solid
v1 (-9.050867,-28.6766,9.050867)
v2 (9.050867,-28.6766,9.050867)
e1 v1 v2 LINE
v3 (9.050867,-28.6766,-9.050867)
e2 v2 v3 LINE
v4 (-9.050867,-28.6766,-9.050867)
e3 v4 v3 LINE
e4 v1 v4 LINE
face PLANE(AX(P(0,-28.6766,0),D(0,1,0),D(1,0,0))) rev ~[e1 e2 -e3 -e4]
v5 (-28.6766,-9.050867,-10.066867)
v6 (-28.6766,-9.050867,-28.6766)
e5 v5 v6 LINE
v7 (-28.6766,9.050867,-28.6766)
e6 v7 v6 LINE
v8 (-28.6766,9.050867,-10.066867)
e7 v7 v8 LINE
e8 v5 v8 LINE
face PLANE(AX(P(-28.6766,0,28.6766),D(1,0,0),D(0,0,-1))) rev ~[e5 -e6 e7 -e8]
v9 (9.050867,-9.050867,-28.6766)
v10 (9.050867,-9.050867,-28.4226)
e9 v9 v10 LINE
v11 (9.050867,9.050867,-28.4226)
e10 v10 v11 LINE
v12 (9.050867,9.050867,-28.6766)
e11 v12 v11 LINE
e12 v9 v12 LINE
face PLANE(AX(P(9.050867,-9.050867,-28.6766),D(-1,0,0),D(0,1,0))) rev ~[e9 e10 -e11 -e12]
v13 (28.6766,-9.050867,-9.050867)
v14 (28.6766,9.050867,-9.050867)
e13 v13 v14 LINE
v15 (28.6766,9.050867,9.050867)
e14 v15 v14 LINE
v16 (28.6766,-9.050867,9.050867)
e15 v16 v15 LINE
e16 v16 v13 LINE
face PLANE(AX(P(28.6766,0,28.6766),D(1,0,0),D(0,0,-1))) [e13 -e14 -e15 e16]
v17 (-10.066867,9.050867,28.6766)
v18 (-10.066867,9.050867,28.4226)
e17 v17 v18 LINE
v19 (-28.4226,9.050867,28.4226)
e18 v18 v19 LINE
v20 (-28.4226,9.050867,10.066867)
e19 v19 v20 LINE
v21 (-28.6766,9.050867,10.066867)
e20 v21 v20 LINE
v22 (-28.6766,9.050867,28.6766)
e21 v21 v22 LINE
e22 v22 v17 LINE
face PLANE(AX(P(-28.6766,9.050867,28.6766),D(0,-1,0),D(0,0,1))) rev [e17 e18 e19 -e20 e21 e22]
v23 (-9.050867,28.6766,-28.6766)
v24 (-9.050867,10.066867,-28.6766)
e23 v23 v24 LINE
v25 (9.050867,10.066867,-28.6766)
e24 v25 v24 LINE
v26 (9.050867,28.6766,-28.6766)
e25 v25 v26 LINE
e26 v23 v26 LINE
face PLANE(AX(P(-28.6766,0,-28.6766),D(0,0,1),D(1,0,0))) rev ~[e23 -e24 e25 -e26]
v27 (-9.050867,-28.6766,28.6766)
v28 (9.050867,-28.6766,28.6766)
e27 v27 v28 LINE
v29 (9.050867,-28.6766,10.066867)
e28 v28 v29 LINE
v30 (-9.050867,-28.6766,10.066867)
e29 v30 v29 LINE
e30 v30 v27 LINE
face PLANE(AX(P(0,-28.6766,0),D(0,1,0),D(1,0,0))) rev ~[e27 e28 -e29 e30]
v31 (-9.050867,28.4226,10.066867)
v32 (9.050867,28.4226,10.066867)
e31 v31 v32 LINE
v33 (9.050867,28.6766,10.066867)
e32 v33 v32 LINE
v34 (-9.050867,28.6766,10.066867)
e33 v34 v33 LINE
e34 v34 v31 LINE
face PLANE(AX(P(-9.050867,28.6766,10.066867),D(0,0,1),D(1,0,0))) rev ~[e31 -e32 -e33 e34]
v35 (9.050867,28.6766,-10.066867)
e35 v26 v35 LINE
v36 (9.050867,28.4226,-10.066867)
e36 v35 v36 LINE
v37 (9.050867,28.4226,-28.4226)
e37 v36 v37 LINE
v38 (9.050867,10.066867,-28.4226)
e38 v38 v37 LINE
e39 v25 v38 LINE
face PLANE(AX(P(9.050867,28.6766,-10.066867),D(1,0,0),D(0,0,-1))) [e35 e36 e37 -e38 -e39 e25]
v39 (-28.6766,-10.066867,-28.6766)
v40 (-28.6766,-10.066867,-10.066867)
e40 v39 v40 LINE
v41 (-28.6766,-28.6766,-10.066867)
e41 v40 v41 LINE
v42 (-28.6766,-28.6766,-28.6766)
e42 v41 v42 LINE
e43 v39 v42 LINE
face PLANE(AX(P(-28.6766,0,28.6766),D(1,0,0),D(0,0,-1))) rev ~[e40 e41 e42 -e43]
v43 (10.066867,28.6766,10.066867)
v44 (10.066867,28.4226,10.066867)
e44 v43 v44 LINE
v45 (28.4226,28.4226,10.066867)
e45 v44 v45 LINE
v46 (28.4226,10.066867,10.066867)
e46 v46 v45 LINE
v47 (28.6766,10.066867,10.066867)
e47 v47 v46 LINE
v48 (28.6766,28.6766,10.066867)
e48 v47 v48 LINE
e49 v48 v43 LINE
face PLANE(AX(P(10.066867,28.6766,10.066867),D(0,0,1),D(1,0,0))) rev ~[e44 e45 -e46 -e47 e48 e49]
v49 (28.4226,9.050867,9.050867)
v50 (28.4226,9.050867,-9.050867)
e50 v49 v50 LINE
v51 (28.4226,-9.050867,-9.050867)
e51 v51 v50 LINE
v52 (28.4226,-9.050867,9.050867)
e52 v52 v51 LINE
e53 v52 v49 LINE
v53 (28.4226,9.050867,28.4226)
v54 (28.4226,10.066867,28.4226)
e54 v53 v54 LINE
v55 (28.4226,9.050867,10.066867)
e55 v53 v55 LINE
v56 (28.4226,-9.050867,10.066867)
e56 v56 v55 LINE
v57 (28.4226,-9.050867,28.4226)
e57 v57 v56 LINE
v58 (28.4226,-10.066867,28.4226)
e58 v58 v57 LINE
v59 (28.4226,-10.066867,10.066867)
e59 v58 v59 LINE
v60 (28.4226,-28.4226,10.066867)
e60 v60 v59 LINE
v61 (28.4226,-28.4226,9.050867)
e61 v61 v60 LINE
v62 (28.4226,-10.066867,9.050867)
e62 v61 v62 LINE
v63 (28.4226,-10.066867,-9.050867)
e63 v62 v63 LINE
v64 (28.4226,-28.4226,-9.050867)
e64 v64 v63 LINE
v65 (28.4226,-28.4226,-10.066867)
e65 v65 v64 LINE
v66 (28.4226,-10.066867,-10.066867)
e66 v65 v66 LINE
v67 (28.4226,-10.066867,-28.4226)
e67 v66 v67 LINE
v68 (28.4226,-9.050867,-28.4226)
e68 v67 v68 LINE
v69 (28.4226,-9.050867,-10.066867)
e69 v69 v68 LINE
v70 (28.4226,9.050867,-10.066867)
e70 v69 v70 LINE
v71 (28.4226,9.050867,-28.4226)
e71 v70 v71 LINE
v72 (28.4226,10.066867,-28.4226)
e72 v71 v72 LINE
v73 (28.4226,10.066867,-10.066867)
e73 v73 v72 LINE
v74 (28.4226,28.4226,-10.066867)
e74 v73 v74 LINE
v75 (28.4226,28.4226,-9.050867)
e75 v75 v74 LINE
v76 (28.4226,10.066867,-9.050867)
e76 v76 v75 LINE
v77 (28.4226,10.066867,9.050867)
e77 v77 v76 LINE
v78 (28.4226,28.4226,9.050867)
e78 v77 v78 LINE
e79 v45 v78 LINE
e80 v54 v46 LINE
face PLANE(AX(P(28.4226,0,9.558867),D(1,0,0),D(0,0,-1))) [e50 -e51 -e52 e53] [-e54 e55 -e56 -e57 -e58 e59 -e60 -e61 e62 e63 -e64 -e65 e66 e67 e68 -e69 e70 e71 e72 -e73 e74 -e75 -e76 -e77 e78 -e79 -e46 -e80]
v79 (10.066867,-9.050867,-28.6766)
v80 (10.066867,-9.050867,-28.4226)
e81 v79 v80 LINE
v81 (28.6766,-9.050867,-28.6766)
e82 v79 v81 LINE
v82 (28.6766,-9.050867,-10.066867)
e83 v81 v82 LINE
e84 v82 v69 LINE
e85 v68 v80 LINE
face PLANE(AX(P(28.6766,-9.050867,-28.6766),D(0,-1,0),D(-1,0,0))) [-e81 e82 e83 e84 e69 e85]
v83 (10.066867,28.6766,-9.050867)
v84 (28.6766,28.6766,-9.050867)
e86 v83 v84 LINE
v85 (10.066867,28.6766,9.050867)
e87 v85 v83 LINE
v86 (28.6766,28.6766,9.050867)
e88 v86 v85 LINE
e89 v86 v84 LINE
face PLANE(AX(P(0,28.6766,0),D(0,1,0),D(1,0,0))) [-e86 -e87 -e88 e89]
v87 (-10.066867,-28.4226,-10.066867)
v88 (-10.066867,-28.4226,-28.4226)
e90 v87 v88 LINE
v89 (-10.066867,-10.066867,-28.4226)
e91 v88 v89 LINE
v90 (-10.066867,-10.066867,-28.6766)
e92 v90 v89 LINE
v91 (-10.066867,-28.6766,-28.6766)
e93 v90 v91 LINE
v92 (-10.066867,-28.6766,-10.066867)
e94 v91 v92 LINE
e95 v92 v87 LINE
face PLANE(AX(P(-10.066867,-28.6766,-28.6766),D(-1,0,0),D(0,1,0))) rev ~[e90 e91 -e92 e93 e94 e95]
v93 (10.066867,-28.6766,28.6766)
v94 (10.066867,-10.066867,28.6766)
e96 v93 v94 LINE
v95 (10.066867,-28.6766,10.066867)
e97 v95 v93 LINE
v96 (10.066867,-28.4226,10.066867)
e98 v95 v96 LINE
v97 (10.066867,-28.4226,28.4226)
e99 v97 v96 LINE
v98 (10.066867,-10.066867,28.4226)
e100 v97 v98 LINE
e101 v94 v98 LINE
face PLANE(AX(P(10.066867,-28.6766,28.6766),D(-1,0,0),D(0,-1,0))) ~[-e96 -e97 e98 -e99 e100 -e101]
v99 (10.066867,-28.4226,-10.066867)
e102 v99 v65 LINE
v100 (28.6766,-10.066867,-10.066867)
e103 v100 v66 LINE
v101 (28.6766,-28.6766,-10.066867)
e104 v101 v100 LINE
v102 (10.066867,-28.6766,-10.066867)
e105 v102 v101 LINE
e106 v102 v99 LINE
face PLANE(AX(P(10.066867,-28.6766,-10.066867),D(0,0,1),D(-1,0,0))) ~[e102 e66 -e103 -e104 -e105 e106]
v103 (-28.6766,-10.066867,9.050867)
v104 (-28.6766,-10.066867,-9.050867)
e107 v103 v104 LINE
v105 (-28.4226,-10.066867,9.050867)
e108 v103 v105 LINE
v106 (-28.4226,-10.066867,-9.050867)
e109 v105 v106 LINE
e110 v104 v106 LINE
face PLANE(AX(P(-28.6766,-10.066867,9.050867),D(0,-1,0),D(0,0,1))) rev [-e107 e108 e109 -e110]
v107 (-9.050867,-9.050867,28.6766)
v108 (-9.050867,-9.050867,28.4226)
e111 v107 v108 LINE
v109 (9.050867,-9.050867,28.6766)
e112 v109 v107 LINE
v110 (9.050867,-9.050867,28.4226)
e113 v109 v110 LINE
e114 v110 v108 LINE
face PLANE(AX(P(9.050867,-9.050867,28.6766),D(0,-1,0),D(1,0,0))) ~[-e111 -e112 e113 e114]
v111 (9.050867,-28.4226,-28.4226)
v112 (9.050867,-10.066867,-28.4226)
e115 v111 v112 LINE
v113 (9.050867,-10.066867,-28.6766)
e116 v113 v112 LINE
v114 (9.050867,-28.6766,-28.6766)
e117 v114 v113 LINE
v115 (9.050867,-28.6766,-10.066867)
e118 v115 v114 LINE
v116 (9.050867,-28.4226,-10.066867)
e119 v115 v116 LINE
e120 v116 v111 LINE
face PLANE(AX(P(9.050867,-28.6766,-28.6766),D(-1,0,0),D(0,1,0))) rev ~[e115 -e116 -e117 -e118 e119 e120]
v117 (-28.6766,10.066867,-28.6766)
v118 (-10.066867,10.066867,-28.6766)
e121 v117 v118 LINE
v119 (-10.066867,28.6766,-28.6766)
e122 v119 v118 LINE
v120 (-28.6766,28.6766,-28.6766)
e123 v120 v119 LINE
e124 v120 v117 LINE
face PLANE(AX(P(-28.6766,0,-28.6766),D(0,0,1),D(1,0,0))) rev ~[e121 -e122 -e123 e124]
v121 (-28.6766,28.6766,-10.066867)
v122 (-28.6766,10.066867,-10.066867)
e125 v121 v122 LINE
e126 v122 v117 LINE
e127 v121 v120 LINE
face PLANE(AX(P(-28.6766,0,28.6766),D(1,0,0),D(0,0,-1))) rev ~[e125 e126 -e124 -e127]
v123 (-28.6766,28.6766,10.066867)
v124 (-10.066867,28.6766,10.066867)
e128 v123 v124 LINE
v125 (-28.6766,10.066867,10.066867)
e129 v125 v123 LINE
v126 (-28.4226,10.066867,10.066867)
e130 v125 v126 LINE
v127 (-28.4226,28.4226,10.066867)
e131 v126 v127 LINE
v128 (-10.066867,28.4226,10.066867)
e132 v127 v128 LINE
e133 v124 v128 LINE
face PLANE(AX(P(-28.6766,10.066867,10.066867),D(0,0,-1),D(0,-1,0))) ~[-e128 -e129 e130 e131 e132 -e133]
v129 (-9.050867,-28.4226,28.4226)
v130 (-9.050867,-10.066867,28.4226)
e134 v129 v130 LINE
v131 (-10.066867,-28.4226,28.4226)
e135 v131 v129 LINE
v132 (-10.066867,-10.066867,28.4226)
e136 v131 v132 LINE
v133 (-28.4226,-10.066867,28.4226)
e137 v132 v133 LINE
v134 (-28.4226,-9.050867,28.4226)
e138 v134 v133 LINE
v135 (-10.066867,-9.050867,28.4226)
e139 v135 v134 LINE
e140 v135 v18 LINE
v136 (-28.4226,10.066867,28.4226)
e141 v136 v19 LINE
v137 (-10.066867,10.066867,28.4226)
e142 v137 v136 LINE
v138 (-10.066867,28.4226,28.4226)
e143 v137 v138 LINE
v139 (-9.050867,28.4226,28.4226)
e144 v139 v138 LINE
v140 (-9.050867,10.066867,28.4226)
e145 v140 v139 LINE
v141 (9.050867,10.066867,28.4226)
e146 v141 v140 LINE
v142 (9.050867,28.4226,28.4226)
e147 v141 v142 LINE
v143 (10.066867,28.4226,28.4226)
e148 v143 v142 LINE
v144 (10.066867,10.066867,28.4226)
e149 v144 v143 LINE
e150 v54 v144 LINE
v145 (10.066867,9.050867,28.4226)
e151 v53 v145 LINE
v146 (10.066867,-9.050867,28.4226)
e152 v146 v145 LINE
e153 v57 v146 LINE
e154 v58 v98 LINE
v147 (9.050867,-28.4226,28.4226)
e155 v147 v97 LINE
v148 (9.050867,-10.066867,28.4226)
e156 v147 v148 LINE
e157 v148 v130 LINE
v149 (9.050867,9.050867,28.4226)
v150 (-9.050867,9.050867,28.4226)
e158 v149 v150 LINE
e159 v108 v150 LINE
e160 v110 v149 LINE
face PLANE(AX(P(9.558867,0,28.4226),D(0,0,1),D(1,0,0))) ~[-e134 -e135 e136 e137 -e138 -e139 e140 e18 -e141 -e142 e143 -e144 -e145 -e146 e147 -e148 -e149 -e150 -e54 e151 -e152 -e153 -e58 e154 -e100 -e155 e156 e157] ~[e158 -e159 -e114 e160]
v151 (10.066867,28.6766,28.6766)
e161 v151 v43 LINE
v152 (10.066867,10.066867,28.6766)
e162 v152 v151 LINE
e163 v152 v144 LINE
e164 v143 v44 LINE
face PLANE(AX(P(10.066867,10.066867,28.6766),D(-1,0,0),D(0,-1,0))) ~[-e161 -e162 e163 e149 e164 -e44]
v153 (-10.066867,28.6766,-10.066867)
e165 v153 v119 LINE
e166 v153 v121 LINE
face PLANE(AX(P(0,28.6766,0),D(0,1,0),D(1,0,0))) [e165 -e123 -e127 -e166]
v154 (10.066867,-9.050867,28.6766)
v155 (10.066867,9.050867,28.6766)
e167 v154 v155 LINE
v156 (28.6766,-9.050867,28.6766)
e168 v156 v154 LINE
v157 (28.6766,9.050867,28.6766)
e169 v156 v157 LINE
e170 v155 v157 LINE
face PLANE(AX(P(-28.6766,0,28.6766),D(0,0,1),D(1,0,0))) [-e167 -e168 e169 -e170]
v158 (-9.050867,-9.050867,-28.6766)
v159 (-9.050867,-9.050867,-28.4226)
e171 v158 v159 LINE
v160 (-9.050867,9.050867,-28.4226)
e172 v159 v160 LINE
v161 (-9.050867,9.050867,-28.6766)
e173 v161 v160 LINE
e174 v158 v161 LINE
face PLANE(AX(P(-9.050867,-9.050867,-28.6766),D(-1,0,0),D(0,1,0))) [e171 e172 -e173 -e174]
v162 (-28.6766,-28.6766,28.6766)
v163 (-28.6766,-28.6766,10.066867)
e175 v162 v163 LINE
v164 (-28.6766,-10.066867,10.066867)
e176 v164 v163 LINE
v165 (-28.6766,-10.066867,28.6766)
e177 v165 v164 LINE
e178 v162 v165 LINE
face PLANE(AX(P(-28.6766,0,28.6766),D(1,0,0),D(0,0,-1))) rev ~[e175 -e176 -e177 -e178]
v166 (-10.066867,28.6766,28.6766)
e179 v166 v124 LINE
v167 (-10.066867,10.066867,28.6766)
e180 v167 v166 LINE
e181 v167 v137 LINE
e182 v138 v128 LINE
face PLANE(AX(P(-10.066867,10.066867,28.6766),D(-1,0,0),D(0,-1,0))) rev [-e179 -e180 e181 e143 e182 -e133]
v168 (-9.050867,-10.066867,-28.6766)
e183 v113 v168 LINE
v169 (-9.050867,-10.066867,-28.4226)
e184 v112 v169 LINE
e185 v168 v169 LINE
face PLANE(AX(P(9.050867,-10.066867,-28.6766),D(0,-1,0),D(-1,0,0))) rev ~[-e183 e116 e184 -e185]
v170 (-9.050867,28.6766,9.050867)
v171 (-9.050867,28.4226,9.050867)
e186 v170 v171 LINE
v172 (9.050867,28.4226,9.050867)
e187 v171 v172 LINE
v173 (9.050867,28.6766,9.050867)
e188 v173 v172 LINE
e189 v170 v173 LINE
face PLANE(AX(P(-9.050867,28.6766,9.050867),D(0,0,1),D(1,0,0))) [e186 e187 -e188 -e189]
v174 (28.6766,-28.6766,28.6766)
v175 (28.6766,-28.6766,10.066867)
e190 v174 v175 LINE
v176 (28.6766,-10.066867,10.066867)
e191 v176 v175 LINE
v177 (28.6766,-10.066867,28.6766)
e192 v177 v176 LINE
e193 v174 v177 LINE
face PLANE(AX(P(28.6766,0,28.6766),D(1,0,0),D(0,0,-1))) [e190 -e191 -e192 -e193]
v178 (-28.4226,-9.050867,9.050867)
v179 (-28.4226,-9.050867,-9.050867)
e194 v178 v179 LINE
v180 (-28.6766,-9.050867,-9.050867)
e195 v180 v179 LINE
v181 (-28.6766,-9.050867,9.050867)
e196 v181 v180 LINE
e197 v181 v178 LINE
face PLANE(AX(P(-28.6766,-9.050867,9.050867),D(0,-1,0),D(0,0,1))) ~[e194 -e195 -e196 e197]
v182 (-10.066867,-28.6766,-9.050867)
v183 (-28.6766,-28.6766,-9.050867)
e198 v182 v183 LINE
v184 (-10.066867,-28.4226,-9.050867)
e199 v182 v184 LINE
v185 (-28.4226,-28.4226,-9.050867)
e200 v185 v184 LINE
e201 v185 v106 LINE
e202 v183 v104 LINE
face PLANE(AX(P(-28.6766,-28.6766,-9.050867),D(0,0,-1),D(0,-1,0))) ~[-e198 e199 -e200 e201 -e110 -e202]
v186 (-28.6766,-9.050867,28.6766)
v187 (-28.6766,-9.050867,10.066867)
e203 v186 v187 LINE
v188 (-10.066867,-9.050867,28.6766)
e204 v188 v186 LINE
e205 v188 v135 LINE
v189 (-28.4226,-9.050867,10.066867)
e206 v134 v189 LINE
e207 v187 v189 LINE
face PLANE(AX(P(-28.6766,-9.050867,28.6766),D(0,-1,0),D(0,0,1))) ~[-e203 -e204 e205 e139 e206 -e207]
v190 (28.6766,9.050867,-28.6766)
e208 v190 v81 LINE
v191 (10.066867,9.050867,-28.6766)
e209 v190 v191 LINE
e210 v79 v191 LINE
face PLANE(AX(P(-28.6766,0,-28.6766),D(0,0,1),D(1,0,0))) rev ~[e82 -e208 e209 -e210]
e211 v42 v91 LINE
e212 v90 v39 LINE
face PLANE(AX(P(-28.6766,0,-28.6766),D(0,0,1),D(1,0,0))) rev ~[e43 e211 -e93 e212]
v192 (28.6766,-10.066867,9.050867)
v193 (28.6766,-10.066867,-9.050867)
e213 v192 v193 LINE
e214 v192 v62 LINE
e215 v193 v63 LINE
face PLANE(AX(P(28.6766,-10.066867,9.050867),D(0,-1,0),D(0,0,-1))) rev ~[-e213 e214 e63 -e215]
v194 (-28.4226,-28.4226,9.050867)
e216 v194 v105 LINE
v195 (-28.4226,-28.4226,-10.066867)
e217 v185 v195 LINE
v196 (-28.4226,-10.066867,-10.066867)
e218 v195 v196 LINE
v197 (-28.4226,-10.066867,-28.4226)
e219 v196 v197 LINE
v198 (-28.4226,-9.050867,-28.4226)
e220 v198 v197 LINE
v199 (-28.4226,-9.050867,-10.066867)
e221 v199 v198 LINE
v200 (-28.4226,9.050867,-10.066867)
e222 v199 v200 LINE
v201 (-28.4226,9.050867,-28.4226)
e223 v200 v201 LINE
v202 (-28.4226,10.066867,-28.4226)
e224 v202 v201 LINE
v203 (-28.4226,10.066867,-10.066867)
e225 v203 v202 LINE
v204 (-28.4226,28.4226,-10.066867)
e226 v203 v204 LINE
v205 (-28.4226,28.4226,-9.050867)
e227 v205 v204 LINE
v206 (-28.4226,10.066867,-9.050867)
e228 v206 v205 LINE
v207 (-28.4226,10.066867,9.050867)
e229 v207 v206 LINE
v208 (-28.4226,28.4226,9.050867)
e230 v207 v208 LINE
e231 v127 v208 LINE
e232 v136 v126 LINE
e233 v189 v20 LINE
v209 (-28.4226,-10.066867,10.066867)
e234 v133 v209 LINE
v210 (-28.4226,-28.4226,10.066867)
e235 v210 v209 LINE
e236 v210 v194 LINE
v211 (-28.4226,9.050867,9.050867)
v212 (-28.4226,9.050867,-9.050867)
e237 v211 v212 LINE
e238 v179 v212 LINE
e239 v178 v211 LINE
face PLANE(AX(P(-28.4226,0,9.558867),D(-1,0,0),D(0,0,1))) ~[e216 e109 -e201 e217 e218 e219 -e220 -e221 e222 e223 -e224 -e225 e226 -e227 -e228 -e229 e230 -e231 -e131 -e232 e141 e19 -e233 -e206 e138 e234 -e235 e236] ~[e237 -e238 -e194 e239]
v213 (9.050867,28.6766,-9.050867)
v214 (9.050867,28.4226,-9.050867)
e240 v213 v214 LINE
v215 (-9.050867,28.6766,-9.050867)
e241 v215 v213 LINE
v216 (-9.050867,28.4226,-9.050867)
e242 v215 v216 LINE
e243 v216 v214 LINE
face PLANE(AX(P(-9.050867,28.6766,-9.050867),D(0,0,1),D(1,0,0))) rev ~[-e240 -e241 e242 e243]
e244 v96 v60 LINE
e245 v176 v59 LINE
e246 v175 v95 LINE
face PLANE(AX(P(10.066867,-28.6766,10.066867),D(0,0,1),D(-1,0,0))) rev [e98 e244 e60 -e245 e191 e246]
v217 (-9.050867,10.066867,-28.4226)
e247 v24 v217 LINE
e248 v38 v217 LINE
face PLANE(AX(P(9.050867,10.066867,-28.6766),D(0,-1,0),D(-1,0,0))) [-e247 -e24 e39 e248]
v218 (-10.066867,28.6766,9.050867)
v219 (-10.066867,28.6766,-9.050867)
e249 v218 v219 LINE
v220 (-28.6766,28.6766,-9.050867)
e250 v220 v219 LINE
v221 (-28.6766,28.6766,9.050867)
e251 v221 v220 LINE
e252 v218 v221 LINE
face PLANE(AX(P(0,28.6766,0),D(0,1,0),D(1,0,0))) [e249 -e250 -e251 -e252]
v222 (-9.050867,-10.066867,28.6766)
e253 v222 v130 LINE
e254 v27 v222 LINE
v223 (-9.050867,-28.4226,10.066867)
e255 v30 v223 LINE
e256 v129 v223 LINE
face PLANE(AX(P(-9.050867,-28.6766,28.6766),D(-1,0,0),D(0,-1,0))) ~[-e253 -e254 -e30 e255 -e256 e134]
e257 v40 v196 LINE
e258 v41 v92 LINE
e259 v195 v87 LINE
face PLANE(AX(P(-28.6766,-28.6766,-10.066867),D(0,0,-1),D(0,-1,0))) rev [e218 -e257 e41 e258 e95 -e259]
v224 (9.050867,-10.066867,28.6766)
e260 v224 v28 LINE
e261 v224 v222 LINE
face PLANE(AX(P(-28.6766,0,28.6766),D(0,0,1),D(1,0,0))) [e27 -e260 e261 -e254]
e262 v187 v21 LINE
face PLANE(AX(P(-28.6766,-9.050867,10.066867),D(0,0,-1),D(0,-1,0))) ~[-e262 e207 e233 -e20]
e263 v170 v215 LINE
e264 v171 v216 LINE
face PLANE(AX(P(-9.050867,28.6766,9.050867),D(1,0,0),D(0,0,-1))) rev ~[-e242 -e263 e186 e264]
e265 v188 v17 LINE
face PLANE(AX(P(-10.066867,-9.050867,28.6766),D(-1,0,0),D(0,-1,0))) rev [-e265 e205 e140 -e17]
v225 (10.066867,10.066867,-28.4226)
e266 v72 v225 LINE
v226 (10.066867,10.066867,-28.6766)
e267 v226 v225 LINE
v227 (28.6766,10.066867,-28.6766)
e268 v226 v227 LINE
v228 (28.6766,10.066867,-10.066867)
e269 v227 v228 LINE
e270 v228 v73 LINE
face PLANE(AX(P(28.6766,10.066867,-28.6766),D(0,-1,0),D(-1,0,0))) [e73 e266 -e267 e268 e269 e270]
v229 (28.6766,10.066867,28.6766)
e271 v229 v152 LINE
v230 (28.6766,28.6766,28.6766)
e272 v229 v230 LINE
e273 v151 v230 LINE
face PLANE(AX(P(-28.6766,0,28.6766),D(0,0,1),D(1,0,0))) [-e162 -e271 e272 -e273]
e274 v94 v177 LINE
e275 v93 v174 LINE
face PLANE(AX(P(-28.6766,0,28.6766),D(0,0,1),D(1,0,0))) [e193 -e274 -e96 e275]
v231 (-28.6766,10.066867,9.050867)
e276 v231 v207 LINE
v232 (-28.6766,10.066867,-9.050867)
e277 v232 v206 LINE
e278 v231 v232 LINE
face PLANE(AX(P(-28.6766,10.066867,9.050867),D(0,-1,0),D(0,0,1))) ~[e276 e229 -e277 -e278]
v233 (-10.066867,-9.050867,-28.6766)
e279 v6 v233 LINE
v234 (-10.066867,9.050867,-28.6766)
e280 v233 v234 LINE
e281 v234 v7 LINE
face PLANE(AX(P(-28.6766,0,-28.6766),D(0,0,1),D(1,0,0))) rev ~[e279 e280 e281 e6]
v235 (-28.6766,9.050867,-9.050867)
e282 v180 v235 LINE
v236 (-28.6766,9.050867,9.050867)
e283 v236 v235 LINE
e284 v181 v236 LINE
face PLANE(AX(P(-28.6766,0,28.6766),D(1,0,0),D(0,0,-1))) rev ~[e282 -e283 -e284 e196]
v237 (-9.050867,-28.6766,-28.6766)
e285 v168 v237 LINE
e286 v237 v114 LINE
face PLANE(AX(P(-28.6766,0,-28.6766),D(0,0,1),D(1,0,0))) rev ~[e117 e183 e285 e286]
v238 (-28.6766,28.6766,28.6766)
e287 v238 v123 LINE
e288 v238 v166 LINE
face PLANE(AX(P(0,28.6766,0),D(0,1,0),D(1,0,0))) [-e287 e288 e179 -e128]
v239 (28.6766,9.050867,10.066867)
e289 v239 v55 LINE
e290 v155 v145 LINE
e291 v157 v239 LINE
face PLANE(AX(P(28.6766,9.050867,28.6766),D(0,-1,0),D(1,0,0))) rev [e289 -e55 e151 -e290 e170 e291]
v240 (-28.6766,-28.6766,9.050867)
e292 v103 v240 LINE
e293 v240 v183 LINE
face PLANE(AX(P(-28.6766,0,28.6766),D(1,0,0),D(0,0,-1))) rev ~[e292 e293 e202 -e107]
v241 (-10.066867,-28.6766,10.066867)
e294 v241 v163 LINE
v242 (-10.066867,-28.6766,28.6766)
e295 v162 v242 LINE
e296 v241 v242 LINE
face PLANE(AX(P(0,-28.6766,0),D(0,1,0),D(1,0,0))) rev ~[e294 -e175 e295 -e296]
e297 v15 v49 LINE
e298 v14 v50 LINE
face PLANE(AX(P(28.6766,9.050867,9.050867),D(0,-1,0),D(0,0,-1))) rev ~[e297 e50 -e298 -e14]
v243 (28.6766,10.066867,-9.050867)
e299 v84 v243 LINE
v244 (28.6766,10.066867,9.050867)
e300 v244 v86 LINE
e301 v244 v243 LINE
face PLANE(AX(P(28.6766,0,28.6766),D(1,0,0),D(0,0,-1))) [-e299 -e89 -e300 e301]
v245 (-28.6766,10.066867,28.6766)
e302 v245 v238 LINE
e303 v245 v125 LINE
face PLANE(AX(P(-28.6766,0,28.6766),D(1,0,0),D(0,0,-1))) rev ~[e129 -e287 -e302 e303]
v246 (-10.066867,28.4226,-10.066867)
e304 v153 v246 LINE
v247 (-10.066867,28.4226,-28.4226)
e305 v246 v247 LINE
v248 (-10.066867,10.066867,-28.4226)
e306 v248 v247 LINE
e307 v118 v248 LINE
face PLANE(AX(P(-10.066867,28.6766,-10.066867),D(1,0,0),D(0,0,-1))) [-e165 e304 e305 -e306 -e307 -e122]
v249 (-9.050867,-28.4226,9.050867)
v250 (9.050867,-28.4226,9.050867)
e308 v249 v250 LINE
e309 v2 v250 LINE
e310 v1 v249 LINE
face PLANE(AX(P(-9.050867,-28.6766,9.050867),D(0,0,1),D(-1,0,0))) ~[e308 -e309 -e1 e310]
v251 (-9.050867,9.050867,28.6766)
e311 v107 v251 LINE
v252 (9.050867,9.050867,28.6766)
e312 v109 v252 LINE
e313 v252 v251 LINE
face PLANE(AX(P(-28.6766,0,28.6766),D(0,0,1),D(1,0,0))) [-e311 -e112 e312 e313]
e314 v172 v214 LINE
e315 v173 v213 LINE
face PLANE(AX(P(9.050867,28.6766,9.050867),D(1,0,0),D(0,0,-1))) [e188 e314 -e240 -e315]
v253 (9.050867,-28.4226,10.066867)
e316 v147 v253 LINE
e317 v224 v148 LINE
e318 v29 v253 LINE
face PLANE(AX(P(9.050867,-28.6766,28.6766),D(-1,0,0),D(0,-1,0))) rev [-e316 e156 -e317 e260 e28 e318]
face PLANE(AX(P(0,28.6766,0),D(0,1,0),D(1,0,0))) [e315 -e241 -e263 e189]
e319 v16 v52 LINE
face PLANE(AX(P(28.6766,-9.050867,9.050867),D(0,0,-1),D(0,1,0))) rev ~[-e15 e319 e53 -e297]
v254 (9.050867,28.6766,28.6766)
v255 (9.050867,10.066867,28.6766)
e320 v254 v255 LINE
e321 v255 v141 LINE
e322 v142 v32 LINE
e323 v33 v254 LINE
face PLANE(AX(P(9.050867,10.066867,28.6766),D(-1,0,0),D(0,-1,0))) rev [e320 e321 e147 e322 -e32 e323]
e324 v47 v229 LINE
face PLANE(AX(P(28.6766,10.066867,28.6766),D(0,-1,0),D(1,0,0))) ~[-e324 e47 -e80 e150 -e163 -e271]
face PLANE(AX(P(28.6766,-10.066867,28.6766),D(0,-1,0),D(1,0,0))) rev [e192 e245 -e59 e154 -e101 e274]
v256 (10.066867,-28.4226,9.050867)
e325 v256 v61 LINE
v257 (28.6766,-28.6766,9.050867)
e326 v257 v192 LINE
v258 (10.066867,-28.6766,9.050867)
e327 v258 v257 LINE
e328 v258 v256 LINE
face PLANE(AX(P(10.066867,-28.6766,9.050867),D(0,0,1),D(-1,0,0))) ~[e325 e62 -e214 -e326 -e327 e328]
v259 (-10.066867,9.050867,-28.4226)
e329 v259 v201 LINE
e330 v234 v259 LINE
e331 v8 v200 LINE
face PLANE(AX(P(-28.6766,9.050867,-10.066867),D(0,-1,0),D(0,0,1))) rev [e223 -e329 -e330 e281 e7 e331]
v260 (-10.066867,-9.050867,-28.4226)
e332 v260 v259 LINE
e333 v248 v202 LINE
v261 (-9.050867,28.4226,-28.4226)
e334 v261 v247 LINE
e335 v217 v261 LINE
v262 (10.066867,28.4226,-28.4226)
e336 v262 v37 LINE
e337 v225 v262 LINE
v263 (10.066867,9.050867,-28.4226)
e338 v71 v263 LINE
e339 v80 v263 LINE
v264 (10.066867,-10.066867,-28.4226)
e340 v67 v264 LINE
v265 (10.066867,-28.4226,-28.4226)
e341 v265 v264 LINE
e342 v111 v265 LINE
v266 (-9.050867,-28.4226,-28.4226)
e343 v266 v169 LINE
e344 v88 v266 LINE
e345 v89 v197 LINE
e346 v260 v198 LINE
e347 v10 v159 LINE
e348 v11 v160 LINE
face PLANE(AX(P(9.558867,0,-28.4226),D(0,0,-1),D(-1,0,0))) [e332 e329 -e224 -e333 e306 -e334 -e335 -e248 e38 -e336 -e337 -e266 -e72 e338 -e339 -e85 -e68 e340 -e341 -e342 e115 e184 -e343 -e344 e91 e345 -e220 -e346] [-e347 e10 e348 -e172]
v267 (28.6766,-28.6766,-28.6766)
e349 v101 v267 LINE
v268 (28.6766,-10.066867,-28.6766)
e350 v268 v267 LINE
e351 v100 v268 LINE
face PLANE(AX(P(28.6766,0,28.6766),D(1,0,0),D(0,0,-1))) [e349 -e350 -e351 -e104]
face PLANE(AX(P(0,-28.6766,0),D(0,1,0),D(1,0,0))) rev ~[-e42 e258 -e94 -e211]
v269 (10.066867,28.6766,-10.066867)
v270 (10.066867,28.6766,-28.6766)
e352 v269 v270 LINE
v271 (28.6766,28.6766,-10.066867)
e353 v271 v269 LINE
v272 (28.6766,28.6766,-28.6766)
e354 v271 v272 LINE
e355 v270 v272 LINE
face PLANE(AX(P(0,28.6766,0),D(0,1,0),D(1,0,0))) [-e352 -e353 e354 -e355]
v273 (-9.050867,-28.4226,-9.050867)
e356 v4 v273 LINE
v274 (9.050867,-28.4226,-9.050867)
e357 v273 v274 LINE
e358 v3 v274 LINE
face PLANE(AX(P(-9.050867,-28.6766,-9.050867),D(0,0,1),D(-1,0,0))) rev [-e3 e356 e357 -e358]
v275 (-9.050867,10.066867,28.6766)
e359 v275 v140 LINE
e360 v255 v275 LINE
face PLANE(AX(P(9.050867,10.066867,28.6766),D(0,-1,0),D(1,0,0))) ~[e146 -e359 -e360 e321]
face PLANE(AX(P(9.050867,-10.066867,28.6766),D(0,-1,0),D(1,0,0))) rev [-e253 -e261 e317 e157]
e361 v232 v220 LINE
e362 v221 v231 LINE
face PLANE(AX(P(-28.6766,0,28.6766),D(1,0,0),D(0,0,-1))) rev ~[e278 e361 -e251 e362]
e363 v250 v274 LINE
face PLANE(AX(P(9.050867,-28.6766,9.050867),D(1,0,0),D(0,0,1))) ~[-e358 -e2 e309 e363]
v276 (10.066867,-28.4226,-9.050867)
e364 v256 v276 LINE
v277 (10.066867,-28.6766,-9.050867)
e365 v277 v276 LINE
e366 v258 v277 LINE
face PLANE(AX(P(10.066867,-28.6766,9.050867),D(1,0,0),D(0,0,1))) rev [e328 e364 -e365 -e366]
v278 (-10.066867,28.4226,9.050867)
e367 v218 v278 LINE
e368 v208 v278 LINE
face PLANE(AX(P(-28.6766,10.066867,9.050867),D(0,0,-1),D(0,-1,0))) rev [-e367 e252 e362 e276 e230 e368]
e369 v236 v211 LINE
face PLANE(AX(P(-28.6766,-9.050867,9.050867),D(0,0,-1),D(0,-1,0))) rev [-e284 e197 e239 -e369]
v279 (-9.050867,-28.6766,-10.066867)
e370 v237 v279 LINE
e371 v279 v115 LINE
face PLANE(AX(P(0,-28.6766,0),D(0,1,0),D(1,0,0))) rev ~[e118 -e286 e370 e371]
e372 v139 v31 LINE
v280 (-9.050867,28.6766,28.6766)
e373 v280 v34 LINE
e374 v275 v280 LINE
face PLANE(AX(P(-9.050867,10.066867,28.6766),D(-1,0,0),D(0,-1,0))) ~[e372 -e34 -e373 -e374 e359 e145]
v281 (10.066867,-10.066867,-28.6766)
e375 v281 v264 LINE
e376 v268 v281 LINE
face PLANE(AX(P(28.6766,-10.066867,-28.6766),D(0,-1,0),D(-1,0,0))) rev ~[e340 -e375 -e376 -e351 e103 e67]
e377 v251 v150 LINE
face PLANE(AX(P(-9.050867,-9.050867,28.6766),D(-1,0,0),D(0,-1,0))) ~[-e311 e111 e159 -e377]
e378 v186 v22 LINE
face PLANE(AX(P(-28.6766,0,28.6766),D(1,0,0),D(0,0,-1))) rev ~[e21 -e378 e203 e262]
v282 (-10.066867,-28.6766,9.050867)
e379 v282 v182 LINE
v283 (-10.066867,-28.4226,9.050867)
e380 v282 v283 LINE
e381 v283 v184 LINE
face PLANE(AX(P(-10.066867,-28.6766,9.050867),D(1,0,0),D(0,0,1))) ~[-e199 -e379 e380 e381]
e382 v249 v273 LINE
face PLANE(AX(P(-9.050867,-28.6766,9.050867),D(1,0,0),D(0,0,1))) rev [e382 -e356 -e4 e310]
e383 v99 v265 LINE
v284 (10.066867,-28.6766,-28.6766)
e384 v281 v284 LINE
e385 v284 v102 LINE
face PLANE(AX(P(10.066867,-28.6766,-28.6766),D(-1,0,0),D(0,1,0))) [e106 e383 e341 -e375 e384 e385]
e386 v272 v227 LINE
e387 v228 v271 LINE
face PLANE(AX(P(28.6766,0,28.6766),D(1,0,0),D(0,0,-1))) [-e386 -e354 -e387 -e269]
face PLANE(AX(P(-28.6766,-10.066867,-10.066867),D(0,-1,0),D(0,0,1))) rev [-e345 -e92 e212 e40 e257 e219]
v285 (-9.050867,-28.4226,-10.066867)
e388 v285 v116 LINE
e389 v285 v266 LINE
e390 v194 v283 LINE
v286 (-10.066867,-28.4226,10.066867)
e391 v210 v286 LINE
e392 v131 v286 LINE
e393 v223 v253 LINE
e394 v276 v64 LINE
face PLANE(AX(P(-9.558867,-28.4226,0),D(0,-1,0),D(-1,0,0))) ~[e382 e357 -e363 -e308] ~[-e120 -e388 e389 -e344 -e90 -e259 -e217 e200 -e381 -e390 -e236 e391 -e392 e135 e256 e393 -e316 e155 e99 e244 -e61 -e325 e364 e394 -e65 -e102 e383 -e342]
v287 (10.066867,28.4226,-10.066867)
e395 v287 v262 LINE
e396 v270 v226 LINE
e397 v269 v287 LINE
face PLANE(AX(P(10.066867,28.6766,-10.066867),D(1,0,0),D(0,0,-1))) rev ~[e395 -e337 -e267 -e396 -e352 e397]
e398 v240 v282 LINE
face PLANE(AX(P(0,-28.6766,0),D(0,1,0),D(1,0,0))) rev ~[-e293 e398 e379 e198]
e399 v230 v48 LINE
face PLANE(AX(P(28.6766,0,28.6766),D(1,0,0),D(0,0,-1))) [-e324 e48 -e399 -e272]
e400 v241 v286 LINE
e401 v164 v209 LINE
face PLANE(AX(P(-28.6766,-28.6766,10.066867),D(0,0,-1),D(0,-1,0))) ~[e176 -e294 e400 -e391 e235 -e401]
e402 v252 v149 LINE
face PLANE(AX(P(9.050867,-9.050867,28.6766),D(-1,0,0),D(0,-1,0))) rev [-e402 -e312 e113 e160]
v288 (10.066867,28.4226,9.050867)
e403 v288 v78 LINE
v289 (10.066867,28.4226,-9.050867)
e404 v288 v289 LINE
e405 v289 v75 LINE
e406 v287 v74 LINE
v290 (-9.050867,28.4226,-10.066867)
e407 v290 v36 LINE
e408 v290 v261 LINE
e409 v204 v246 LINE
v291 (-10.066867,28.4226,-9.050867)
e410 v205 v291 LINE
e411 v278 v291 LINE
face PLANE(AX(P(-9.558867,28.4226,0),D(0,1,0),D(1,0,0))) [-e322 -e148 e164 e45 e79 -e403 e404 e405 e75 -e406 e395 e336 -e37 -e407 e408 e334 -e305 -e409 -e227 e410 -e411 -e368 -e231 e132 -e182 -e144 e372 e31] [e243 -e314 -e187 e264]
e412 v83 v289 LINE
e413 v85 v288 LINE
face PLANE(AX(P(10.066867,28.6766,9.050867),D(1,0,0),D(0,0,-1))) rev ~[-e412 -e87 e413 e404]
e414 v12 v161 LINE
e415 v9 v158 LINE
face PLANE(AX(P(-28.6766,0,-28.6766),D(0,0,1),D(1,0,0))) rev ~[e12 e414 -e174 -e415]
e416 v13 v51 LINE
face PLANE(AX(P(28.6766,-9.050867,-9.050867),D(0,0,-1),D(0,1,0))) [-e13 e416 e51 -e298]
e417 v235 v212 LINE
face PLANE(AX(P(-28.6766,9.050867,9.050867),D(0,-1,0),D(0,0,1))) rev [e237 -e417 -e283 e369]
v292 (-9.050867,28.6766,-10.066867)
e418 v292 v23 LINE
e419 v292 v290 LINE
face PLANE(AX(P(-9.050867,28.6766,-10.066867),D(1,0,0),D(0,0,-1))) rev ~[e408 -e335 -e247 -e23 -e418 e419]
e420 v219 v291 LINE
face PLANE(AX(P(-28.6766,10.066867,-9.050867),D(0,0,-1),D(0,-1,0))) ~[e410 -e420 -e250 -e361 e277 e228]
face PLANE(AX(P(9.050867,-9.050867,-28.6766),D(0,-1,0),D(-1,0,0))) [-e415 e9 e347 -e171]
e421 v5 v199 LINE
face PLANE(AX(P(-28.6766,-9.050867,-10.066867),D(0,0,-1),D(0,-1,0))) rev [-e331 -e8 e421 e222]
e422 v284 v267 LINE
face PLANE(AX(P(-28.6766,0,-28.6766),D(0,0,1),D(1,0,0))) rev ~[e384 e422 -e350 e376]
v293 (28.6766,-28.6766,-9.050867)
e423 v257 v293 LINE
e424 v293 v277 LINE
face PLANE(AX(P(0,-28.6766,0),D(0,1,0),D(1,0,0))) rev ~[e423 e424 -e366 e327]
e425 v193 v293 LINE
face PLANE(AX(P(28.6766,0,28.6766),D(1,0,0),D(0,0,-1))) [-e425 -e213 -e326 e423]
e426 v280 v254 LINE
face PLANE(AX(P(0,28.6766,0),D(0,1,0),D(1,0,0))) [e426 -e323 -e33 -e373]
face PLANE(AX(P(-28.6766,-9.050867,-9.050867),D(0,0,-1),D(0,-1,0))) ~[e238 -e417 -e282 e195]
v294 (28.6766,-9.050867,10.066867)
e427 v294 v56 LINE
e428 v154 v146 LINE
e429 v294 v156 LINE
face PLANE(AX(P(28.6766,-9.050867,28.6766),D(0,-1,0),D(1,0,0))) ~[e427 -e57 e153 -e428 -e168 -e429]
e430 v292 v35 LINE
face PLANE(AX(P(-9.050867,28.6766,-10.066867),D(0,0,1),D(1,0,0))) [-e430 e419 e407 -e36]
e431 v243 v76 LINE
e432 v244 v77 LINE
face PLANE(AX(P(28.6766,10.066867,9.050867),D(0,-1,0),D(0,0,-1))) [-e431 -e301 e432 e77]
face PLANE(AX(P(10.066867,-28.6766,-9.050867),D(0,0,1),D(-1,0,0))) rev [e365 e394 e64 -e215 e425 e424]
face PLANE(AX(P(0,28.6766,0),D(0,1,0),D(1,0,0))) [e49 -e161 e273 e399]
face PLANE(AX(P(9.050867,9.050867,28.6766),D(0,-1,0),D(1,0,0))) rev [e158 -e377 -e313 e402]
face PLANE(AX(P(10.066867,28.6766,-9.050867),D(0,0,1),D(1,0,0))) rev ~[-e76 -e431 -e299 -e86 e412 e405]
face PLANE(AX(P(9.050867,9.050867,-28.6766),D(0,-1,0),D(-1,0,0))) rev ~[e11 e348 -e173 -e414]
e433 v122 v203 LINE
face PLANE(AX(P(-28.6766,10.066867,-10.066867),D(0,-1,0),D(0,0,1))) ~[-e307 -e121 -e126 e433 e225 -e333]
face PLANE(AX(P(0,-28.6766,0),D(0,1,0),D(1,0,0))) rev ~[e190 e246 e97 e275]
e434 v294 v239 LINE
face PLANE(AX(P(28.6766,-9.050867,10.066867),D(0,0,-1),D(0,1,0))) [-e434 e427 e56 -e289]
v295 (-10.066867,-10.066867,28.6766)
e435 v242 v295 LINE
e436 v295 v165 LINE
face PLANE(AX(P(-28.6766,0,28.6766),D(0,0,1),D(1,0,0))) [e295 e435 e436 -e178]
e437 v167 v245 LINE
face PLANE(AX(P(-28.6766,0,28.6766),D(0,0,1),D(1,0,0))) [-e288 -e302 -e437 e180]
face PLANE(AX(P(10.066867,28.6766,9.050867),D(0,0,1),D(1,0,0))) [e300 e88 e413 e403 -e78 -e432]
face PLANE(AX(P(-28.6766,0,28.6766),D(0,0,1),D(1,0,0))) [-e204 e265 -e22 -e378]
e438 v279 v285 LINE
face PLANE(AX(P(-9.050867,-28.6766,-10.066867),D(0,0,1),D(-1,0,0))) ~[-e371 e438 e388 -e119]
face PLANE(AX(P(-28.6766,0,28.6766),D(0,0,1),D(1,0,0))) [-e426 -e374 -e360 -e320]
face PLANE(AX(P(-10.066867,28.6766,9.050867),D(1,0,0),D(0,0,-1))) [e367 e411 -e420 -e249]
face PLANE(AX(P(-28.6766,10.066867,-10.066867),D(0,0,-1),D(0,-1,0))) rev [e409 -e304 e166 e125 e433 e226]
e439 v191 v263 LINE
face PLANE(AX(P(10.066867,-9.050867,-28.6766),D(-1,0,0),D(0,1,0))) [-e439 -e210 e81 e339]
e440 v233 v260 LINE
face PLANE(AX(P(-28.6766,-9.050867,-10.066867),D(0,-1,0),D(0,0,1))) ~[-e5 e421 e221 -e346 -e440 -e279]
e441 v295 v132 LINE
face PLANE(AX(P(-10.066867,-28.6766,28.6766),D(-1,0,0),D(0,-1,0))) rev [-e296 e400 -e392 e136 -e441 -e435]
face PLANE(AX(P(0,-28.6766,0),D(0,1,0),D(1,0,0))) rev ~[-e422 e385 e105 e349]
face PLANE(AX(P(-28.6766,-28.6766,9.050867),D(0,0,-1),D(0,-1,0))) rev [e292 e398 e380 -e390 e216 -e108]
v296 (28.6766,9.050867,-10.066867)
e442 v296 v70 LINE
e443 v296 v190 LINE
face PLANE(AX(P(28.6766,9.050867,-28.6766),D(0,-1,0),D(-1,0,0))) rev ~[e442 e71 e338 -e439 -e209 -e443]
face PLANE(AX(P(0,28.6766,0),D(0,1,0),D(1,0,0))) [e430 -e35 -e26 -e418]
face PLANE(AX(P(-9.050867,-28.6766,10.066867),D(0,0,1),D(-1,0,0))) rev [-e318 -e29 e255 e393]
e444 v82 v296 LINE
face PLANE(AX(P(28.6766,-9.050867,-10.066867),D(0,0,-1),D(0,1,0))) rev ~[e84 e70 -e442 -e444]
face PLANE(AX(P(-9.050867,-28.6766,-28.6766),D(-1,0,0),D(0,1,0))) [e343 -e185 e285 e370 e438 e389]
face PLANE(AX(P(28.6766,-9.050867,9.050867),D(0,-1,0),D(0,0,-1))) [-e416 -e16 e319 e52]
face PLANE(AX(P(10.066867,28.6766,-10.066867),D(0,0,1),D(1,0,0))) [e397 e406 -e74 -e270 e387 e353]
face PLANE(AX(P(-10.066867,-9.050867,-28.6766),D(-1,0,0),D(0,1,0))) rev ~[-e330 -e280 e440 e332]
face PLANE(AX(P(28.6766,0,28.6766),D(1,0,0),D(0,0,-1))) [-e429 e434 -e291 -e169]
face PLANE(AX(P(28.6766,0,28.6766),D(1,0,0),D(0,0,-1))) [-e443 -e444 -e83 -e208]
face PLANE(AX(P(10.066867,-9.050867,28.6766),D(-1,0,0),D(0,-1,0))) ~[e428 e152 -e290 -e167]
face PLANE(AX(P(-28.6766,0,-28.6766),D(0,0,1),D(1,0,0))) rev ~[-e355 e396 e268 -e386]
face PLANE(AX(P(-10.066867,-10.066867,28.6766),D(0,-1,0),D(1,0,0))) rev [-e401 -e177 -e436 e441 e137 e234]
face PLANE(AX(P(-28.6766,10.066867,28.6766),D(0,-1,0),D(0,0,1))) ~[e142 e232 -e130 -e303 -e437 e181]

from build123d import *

# Parameters (mm, degrees)
ESQUISSE1_W                     = 57.3532
ESQUISSE1_H                     = 57.3532
BOSS_EXTRU_1_DEPTH              = 28.6766
ESQUISSE2_W                     = 1.016
ESQUISSE2_H                     = 57.3532
ESQUISSE2_W_2                   = 57.3532
ESQUISSE2_H_2                   = 1.016
ENL_V_DE_MAT_EXTRU_MINCE1_DEPTH = 0.254
ESQUISSE3_W                     = 1.016
ESQUISSE3_H                     = 57.3532
ESQUISSE3_W_2                   = 57.3532
ESQUISSE3_H_2                   = 1.016
ENL_V_DE_MAT_EXTRU_MINCE2_DEPTH = 0.254
ESQUISSE4_W                     = 1.016
ESQUISSE4_H                     = 57.3532
ESQUISSE4_W_2                   = 57.3532
ESQUISSE4_H_2                   = 1.016
ENL_V_DE_MAT_EXTRU_MINCE3_DEPTH = 0.254


with BuildPart() as part:
    # Esquisse1 → Boss.-Extru.1 (new, symmetric)
    with BuildSketch(Plane(origin=(0, 0, 0), x_dir=(1, 0, 0), z_dir=(0, 1, 0))):
        Rectangle(ESQUISSE1_W, ESQUISSE1_H)
    extrude(amount=BOSS_EXTRU_1_DEPTH, both=True)

    # Esquisse2 → Enlèv. de mat.-Extru.-Mince1 (cut)
    with BuildSketch(Plane(origin=(0, 28.6766, 0), x_dir=(1, 0, 0), z_dir=(0, 1, 0))):
        with Locations((-9.558866667, 0)):
            Rectangle(ESQUISSE2_W, ESQUISSE2_H)
        with Locations((9.558866667, 0)):
            Rectangle(ESQUISSE2_W, ESQUISSE2_H)
        with Locations((0, 9.558866667)):
            Rectangle(ESQUISSE2_W_2, ESQUISSE2_H_2)
        with Locations((0, -9.558866667)):
            Rectangle(ESQUISSE2_W_2, ESQUISSE2_H_2)
    enl_v_de_mat_extru_mince1 = extrude(amount=-ENL_V_DE_MAT_EXTRU_MINCE1_DEPTH, mode=Mode.SUBTRACT)

    # Esquisse3 → Enlèv. de mat.-Extru.-Mince2 (cut)
    with BuildSketch(Plane(origin=(28.6766, 0, 0), x_dir=(0, 0, -1), z_dir=(1, 0, 0))):
        with Locations((-9.558866667, 0)):
            Rectangle(ESQUISSE3_W, ESQUISSE3_H)
        with Locations((9.558866667, 0)):
            Rectangle(ESQUISSE3_W, ESQUISSE3_H)
        with Locations((0, -9.558866667)):
            Rectangle(ESQUISSE3_W_2, ESQUISSE3_H_2)
        with Locations((0, 9.558866667)):
            Rectangle(ESQUISSE3_W_2, ESQUISSE3_H_2)
    enl_v_de_mat_extru_mince2 = extrude(amount=-ENL_V_DE_MAT_EXTRU_MINCE2_DEPTH, mode=Mode.SUBTRACT)

    # Esquisse4 → Enlèv. de mat.-Extru.-Mince3 (cut)
    with BuildSketch(Plane(origin=(0, 0, -28.6766), x_dir=(-1, 0, 0), z_dir=(0, 0, -1))):
        with Locations((-9.558866667, 0)):
            Rectangle(ESQUISSE4_W, ESQUISSE4_H)
        with Locations((9.558866667, 0)):
            Rectangle(ESQUISSE4_W, ESQUISSE4_H)
        with Locations((0, 9.558866667)):
            Rectangle(ESQUISSE4_W_2, ESQUISSE4_H_2)
        with Locations((0, -9.558866667)):
            Rectangle(ESQUISSE4_W_2, ESQUISSE4_H_2)
    enl_v_de_mat_extru_mince3 = extrude(amount=-ENL_V_DE_MAT_EXTRU_MINCE3_DEPTH, mode=Mode.SUBTRACT)

    # Symétrie1: Enlèv. de mat.-Extru.-Mince3 across plane
    add(enl_v_de_mat_extru_mince3.mirror(Plane.XY), mode=Mode.SUBTRACT)

    # Symétrie2: Enlèv. de mat.-Extru.-Mince1 across plane
    add(enl_v_de_mat_extru_mince1.mirror(Plane.ZX), mode=Mode.SUBTRACT)

    # Symétrie3: Enlèv. de mat.-Extru.-Mince2 across plane
    add(enl_v_de_mat_extru_mince2.mirror(Plane(origin=(0, 0, 0), x_dir=(0, 0, 1), z_dir=(1, 0, 0))), mode=Mode.SUBTRACT)


solid = part.part
